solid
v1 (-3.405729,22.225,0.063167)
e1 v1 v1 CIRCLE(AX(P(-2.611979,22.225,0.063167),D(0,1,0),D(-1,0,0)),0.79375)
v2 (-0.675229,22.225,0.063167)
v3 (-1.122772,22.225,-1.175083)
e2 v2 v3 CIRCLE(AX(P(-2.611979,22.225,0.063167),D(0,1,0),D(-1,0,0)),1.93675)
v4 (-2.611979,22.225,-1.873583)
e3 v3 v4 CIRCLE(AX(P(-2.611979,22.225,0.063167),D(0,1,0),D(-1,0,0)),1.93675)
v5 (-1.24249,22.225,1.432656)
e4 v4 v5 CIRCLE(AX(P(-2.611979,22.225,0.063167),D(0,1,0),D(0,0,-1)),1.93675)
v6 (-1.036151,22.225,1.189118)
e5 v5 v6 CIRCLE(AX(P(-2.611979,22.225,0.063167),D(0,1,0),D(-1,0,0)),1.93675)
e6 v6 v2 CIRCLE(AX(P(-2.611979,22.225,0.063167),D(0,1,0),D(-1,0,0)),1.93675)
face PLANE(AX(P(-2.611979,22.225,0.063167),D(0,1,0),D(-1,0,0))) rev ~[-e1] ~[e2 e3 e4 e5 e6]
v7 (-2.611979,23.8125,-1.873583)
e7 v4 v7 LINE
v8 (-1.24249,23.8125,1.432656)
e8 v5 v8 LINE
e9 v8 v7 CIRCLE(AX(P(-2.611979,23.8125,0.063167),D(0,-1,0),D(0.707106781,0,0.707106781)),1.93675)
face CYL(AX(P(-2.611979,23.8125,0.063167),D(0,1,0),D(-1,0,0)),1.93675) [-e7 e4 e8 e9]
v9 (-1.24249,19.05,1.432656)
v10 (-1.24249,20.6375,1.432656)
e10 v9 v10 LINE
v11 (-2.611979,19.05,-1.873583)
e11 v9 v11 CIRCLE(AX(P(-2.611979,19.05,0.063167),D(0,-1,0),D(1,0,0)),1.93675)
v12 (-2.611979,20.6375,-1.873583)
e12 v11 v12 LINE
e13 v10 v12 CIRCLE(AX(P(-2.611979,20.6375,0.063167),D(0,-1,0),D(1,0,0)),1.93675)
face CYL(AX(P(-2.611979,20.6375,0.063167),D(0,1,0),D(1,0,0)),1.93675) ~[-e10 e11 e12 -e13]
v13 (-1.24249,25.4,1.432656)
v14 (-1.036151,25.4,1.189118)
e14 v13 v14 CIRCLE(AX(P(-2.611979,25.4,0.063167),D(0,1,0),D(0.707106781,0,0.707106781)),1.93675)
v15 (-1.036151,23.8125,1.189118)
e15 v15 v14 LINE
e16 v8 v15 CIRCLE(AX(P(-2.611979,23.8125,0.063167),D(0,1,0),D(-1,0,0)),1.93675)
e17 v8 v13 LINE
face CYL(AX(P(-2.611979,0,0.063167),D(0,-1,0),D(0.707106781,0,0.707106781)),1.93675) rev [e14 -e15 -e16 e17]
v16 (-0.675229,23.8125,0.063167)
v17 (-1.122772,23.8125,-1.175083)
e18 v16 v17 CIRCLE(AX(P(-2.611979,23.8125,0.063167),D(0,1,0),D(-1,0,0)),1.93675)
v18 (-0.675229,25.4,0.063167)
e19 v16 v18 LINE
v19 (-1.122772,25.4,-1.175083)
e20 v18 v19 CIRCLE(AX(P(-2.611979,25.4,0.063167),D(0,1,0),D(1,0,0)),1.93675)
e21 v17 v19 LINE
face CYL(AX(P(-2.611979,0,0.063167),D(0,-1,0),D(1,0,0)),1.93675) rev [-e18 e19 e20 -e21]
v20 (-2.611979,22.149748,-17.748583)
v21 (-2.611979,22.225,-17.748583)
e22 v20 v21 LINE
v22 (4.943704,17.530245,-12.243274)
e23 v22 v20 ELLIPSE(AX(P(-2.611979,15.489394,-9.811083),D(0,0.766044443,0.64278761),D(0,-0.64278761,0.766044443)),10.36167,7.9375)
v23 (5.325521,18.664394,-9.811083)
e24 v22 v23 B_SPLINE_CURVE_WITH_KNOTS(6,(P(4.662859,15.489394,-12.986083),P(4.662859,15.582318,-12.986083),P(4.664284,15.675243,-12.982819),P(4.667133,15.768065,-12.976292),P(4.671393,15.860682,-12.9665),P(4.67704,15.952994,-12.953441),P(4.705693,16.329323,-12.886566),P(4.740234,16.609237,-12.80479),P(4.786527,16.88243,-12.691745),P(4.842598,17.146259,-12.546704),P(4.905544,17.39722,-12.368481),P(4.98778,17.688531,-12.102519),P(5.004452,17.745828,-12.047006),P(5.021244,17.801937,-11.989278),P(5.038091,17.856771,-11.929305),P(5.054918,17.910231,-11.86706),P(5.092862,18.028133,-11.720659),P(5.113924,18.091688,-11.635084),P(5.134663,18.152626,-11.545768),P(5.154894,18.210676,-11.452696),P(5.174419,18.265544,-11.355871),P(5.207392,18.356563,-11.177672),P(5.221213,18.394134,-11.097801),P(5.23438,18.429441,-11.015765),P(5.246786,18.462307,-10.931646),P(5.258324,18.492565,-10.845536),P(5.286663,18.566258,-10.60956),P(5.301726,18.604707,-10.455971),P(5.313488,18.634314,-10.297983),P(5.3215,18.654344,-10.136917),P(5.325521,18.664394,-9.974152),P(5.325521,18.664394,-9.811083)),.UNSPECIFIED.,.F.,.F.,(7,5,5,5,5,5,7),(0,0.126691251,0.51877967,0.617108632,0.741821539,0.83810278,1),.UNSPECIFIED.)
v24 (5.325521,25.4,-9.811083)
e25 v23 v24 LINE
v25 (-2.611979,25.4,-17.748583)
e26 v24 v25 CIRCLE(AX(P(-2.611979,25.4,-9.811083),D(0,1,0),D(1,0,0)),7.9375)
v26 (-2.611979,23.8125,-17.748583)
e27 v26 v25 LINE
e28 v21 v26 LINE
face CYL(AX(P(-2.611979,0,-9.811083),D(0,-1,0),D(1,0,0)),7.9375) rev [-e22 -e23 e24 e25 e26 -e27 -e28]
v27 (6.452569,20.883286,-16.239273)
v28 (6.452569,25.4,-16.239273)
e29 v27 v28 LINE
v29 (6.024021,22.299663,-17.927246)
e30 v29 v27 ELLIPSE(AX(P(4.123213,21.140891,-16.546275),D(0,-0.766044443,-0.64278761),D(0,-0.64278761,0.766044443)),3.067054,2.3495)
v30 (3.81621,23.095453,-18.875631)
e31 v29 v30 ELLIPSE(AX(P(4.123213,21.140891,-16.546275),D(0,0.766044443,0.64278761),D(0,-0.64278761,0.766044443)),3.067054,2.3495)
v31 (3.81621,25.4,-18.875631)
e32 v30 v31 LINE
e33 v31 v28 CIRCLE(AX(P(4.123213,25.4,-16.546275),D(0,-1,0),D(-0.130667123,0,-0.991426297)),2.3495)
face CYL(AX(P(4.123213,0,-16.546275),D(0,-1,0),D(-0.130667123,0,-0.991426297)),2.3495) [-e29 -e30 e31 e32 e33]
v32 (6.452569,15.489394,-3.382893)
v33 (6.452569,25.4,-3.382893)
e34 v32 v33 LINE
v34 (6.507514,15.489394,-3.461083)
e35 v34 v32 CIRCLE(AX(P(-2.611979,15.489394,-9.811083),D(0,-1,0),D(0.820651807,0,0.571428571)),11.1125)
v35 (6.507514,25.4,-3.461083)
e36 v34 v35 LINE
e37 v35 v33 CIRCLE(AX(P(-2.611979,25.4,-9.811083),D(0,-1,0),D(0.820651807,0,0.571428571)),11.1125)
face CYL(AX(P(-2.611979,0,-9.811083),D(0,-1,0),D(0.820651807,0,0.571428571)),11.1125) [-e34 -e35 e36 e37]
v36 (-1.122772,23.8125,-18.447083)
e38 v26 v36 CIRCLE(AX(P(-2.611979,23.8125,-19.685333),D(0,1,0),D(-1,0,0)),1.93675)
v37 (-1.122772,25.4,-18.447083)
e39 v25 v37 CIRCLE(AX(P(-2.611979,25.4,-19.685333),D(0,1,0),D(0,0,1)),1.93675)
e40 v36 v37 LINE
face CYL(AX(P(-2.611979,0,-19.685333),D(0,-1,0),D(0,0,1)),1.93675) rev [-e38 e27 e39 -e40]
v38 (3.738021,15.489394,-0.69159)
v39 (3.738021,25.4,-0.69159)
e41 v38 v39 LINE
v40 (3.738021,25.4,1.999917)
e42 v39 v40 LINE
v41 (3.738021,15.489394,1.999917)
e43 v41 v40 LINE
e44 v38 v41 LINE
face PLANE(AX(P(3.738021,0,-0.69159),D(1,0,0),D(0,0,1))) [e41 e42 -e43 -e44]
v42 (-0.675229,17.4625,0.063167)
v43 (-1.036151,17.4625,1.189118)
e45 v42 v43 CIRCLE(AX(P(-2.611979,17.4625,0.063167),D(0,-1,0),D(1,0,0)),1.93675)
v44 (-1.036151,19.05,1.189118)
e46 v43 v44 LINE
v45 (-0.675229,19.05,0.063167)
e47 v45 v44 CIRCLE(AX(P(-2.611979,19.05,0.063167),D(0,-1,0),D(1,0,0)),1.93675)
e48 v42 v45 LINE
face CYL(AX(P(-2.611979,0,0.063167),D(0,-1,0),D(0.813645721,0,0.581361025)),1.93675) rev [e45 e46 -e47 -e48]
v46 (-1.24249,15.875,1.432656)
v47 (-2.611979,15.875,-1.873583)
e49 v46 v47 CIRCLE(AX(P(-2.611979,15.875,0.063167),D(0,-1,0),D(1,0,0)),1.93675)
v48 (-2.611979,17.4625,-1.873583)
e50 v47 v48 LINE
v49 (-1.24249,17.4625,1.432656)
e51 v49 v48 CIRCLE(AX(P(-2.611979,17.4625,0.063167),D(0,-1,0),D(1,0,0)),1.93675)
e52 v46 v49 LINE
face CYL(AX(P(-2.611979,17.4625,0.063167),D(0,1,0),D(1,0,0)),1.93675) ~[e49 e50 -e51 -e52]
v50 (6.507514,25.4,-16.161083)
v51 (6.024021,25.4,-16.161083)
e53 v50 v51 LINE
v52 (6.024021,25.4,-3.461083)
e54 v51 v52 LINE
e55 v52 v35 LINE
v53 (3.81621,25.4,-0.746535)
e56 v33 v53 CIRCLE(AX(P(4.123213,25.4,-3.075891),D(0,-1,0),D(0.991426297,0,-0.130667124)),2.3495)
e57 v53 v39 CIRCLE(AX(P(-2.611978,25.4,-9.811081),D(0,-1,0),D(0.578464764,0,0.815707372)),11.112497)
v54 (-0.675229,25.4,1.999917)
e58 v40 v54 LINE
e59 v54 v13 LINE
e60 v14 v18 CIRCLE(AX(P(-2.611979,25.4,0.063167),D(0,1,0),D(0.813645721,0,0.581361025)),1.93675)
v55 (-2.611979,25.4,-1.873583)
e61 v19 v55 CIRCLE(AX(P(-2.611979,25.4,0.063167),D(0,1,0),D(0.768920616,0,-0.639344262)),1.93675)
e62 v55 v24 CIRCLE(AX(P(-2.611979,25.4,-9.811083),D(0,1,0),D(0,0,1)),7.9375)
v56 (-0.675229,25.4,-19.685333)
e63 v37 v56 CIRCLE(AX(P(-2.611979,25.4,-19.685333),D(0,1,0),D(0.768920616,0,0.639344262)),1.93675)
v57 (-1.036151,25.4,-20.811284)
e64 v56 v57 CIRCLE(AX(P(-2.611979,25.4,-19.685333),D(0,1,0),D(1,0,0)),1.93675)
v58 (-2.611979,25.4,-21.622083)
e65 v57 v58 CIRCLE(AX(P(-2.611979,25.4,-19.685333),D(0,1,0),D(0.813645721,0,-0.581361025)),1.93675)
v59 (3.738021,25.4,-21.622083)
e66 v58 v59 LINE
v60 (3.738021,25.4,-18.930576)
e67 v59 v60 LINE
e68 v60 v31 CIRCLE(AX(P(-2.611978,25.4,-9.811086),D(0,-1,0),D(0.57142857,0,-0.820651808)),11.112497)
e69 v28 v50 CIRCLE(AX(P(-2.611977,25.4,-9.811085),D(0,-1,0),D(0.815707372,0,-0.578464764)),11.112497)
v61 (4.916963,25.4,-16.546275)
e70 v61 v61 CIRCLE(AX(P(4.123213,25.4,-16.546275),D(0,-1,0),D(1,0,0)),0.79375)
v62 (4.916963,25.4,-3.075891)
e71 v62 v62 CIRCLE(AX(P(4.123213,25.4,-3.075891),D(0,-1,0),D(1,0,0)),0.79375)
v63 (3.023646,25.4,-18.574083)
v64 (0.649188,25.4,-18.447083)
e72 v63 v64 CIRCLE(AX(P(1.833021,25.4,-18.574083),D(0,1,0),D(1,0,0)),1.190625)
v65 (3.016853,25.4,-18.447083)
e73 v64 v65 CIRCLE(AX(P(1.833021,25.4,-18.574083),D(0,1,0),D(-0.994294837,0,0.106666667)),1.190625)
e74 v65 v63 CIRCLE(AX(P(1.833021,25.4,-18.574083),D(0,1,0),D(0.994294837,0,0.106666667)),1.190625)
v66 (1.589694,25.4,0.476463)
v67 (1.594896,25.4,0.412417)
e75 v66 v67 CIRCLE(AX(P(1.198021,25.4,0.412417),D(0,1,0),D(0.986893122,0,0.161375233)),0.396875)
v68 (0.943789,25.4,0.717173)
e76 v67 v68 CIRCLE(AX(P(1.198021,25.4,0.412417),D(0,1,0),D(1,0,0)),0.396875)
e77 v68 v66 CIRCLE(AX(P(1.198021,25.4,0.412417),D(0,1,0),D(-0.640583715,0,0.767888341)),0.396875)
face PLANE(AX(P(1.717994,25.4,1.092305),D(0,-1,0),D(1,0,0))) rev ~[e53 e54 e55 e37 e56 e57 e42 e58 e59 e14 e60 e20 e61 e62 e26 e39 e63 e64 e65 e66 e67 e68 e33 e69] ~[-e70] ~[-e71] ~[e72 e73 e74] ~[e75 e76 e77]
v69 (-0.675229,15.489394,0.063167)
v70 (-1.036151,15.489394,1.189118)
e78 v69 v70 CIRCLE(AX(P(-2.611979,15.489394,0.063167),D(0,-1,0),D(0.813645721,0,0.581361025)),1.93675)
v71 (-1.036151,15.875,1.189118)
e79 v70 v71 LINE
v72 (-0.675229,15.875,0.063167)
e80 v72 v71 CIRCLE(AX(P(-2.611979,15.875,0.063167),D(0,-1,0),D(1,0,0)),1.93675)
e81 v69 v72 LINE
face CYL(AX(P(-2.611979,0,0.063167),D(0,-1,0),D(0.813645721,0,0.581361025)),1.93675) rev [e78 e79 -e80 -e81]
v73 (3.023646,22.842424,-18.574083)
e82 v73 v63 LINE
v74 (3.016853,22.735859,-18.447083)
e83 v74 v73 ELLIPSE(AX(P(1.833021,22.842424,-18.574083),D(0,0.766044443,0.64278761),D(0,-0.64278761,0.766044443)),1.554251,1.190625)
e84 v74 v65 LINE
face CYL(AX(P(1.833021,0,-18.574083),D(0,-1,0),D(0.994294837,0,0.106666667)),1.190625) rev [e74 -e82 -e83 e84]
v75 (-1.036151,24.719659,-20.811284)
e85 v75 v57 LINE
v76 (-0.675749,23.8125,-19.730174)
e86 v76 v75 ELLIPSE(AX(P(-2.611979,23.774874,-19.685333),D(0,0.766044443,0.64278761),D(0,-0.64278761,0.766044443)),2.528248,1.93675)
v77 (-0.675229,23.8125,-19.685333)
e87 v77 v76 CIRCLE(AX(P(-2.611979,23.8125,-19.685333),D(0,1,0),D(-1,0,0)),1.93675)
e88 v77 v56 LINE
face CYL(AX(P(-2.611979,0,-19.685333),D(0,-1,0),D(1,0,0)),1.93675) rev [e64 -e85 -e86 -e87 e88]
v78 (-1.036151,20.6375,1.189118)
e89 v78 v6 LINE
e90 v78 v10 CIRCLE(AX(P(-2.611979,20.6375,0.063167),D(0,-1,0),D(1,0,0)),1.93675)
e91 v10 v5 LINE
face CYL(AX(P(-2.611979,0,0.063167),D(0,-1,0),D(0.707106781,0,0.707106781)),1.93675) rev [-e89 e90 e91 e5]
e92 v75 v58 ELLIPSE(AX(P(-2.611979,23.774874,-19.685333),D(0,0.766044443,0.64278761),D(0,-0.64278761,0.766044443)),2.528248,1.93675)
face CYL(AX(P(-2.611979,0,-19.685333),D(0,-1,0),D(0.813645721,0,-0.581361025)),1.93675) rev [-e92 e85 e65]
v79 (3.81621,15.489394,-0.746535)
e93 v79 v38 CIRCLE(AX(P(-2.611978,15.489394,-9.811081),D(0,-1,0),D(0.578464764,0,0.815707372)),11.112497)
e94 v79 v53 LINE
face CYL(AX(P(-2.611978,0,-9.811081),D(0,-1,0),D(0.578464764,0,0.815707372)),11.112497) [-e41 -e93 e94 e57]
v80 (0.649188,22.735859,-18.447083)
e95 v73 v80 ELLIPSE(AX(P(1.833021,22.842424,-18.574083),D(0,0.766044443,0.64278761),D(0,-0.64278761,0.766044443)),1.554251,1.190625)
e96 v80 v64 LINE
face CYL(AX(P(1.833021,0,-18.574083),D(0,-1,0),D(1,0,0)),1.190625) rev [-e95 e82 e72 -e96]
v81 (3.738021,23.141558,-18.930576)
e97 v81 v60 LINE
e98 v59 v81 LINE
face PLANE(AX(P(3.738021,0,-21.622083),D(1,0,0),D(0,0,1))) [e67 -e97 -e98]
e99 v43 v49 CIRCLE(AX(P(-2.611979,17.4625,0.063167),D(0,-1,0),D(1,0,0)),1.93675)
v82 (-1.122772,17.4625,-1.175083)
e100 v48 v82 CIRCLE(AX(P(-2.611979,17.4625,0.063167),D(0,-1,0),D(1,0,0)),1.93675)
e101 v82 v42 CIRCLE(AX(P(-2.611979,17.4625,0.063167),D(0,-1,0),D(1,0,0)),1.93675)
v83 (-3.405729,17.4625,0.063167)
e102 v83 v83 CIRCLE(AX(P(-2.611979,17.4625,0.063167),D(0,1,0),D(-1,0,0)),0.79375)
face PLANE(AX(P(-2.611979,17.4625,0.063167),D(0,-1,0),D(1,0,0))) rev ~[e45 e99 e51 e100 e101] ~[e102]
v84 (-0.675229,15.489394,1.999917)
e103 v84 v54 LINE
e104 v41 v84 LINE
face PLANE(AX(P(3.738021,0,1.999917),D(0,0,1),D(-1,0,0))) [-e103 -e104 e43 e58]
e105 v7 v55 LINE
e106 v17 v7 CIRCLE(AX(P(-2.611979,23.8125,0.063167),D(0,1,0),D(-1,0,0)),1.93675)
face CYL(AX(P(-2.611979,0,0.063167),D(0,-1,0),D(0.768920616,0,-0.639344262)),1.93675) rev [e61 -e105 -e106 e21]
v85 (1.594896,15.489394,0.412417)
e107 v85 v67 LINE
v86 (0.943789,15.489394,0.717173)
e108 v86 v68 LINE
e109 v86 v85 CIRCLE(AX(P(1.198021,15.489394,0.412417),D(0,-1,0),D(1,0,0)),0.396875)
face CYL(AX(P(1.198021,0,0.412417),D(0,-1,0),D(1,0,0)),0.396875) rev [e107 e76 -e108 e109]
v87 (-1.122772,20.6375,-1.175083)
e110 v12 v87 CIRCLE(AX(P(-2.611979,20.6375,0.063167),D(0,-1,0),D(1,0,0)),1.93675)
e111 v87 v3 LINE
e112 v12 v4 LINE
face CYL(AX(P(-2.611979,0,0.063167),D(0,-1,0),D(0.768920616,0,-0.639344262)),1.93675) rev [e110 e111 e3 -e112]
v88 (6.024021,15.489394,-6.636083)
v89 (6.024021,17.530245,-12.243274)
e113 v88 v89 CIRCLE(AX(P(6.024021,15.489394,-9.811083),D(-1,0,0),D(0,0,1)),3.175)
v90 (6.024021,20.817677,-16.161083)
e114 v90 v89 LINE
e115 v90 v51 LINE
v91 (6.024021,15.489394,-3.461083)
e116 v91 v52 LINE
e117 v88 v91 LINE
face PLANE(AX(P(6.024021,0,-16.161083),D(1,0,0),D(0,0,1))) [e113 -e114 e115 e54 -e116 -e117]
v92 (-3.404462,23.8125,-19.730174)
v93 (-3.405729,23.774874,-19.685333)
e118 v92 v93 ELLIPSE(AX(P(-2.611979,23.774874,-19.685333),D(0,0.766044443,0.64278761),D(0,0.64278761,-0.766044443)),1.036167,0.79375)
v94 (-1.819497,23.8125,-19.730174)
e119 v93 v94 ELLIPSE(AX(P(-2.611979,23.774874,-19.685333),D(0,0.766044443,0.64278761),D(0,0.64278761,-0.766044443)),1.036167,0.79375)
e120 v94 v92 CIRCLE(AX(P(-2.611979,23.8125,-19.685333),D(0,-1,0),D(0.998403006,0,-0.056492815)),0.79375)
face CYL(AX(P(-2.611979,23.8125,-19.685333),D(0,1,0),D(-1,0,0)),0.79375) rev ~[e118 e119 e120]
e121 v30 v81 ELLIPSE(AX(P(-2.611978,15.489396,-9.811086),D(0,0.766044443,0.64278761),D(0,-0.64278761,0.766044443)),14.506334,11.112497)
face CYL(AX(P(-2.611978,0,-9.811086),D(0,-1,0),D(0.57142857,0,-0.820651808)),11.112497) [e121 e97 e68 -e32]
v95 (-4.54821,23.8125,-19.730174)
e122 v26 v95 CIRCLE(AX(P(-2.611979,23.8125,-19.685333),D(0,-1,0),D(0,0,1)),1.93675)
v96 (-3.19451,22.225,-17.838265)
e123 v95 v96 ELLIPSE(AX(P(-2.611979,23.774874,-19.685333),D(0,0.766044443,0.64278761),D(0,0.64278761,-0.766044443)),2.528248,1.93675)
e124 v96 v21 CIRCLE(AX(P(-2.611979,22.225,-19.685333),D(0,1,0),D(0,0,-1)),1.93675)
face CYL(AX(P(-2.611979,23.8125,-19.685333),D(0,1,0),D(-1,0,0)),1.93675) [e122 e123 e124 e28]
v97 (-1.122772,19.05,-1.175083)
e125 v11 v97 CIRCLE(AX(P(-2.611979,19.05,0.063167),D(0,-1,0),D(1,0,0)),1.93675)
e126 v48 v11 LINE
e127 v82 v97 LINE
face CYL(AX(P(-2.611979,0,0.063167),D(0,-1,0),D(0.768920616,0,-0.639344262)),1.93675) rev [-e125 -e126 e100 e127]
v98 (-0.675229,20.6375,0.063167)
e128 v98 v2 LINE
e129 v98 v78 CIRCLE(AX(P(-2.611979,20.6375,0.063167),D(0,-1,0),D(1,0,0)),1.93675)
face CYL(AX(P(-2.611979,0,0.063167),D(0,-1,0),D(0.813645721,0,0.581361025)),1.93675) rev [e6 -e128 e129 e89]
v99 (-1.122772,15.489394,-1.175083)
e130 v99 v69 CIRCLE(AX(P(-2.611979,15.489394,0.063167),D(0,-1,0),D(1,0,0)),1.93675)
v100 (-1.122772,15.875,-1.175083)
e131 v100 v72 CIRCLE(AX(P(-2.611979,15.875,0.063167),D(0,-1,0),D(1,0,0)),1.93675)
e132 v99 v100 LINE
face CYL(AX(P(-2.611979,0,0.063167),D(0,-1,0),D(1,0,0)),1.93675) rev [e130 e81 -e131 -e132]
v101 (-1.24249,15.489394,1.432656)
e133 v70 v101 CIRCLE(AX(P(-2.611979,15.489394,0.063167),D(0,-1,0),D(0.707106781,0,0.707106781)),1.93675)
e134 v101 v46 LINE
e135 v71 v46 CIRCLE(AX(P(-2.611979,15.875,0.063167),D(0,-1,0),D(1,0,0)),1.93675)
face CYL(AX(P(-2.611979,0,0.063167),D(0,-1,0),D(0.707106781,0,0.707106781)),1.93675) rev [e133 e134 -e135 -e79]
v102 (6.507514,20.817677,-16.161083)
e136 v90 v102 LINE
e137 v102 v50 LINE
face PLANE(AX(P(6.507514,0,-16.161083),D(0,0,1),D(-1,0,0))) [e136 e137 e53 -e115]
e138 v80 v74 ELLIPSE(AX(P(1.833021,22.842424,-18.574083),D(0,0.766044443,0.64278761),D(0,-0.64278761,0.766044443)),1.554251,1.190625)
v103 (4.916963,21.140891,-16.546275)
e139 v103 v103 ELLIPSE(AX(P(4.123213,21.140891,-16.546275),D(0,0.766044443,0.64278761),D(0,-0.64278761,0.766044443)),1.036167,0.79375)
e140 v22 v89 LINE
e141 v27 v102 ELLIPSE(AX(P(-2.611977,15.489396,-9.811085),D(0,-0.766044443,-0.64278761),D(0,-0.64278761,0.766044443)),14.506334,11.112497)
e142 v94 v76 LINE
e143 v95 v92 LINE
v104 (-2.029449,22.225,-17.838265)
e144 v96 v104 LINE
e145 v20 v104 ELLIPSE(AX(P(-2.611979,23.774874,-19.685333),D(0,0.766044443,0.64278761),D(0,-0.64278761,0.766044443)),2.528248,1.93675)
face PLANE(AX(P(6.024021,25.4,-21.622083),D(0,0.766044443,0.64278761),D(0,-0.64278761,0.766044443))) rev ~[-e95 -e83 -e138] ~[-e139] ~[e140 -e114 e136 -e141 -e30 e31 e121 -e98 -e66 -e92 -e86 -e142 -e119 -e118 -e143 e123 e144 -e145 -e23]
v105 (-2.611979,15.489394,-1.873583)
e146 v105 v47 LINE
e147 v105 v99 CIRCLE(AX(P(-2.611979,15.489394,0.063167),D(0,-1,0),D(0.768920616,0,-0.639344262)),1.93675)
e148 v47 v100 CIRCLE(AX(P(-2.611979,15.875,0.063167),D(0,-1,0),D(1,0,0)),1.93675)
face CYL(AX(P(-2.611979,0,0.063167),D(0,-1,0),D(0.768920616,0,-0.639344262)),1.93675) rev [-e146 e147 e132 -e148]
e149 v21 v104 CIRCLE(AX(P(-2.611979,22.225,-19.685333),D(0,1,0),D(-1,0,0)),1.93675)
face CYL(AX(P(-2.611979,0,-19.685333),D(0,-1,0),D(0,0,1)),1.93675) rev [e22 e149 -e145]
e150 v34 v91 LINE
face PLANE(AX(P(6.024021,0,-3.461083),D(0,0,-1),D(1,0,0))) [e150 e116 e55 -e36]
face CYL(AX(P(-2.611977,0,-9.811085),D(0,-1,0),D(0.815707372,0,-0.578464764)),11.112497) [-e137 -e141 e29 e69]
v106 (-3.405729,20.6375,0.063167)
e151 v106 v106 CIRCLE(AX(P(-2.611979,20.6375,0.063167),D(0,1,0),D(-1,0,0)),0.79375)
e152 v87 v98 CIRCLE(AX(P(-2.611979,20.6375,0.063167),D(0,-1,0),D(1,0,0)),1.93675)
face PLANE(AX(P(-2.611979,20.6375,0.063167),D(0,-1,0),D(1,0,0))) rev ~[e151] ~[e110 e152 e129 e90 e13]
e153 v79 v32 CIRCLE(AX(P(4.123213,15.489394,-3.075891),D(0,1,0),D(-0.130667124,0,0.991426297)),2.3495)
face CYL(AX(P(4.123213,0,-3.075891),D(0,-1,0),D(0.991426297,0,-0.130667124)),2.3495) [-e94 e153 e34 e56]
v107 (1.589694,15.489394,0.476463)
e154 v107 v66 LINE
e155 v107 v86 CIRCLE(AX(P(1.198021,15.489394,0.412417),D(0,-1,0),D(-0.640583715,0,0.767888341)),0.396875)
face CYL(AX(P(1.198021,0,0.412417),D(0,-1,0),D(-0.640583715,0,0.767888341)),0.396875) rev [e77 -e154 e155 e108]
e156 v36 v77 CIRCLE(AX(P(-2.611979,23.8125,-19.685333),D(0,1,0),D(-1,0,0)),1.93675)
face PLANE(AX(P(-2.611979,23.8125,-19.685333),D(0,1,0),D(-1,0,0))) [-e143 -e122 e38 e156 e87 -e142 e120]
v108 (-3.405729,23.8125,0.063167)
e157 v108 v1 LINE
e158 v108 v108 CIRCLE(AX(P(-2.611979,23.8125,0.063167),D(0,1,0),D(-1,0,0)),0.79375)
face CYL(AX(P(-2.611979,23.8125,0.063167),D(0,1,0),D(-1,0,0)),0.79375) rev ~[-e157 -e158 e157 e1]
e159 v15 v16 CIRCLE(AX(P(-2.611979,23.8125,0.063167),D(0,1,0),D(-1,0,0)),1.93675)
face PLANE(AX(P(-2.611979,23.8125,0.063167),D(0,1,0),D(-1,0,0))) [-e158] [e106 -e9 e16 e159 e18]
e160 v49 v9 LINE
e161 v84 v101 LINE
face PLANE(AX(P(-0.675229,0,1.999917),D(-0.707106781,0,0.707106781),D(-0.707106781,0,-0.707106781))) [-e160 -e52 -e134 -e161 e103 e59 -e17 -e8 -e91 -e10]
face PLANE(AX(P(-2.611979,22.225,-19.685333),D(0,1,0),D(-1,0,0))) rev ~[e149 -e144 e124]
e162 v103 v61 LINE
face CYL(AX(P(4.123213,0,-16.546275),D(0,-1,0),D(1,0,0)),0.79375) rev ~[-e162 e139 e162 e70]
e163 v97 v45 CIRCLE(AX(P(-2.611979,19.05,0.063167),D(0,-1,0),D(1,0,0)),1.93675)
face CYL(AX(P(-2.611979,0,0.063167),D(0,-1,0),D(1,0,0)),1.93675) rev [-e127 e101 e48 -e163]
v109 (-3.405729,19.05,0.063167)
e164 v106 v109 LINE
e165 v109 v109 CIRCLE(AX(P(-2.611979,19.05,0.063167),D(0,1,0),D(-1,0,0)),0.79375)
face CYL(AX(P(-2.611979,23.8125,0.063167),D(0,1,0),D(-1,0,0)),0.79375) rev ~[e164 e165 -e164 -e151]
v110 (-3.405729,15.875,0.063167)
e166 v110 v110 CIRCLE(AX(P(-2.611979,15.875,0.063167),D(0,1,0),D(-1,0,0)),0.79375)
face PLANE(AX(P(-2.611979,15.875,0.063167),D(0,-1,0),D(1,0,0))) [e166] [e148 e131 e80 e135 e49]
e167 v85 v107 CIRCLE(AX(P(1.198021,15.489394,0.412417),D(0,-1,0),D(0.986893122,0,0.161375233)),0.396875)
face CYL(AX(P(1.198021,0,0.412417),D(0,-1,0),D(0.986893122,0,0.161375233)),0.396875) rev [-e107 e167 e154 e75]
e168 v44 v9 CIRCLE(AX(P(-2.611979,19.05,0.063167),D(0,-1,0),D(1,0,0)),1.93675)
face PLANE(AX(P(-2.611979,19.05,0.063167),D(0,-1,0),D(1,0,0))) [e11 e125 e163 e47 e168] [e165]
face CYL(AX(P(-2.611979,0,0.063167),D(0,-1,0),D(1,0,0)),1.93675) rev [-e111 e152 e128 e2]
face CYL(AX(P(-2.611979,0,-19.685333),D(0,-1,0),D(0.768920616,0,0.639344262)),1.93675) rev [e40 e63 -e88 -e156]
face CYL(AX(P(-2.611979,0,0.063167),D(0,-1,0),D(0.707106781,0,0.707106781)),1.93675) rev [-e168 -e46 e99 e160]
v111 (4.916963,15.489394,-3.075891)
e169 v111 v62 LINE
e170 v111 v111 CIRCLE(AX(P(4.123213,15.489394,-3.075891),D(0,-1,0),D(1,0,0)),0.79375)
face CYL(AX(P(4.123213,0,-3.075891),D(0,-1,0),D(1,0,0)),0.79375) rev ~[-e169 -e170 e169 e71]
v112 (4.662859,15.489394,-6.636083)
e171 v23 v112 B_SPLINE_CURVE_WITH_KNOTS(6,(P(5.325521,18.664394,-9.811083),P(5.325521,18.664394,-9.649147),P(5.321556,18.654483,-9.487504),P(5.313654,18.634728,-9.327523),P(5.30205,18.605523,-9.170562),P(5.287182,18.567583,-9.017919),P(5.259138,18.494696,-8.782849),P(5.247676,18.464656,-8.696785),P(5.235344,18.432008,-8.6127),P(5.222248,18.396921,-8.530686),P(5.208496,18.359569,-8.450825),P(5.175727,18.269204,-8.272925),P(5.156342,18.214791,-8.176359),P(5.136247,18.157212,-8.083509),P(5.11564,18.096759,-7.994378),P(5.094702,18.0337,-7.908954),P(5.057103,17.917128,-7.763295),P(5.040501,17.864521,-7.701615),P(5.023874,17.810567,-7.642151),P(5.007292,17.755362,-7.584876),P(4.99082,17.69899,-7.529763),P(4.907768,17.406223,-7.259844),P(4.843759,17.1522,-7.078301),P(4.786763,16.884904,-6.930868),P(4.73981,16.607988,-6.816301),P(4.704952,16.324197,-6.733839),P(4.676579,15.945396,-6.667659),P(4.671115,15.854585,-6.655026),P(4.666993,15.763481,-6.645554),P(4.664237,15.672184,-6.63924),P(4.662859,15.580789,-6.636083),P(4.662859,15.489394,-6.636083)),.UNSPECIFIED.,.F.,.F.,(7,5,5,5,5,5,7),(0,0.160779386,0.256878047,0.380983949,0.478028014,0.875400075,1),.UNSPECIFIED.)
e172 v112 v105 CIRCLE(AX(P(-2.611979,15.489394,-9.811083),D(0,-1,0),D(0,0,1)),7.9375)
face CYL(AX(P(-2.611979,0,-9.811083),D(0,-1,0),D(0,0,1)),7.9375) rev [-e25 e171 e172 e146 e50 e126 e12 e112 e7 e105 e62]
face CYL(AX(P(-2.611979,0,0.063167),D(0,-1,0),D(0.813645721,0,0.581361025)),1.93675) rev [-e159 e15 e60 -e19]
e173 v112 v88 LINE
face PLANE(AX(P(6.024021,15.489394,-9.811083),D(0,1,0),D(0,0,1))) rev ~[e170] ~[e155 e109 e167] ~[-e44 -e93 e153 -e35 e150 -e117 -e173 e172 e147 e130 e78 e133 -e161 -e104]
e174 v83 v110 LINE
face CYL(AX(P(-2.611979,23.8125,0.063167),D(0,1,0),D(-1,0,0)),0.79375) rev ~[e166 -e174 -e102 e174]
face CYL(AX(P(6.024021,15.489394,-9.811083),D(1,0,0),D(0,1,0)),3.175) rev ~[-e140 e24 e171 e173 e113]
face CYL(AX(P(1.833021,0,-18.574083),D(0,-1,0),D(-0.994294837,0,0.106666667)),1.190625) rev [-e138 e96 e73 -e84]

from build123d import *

# Parameters (mm, degrees)
F0_R           = 0.79375
F1_DEPTH       = 25.4
F3_START       = -1.5875
F2_R           = 1.93675
F3_DEPTH       = 1.5875
F5_START       = 1.5875
F4_R           = 1.93675
F5_DEPTH       = 1.5875
F7_START       = 1.5875
F6_R           = 1.93675
F7_DEPTH       = 1.5875
F9_START       = 1.5875
F8_R           = 1.93675
F9_DEPTH       = 1.5875
F11_START      = 1.5875
F10_R          = 1.93675
F11_DEPTH      = 1.5875
F13_START      = 1.5875
F12_R          = 1.93675
F13_DEPTH      = 1.5875
F14_R          = 0.79375
F15_DEPTH      = 23.8135
F16_R          = 0.79375
F17_DEPTH      = 23.8135
F19_DEPTH      = 25.4
F19_DEPTH_BACK = 25.4
F20_R          = 3.175
F21_DEPTH      = 25.4


with BuildPart() as f1:
    # F0 (on Front) → F1 (new body)
    with BuildSketch(Plane.XZ):
        with BuildLine():
            ThreePointArc((1.5896937253, 0.4764627531), (2.6960840616, -0.0482905293), (3.7380205176, -0.6915898416))
            Line((3.7380205176, -0.6915898416), (3.7380205176, 1.9999169571))
            Line((3.7380205176, 1.9999169571), (-0.6752294824, 1.9999169571))
            Line((-0.6752294824, 1.9999169571), (-1.2424904239, 1.4326560155))
            ThreePointArc((-1.2424904239, 1.4326560155), (-1.1342950237, 1.3151450731), (-1.0361511327, 1.1891179217))
            ThreePointArc((-1.0361511327, 1.1891179217), (-0.0353529614, 0.9985724567), (0.9437888558, 0.7171726424))
            ThreePointArc((0.9437888558, 0.7171726424), (1.336612932, 0.7843066024), (1.5896937253, 0.4764627531))
        make_face()
        with BuildLine():
            ThreePointArc((-0.6752294824, 0.0631669571), (-0.7905484204, -0.5951562531), (-1.1227724786, -1.1750830429))
            Line((-1.1227724786, -1.1750830429), (3.7380205176, -1.1750830429))
            Line((3.7380205176, -1.1750830429), (3.7380205176, -0.6915898416))
            ThreePointArc((3.7380205176, -0.6915898416), (2.6960840616, -0.0482905293), (1.5896937253, 0.4764627531))
            ThreePointArc((1.5896937253, 0.4764627531), (1.5935929319, 0.4445453037), (1.5948955176, 0.4124169571))
            ThreePointArc((1.5948955176, 0.4124169571), (1.0297772788, 0.0529674082), (0.9437888558, 0.7171726424))
            ThreePointArc((0.9437888558, 0.7171726424), (-0.0353529614, 0.9985724567), (-1.0361511327, 1.1891179217))
            ThreePointArc((-1.0361511327, 1.1891179217), (-0.7676657728, 0.654358553), (-0.6752294824, 0.0631669571))
        make_face()
        with BuildLine():
            ThreePointArc((-2.6119794826, -1.8735830429), (3.0006805932, -4.1984229672), (5.3255205176, -9.8110830429))
            ThreePointArc((5.3255205176, -9.8110830429), (3.0006805933, -15.4237431186), (-2.6119794824, -17.7485830429))
            ThreePointArc((-2.6119794824, -17.7485830429), (-1.7895380331, -17.9318819815), (-1.1227724786, -18.4470830429))
            Line((-1.1227724786, -18.4470830429), (0.6491882277, -18.4470830429))
            ThreePointArc((0.6491882277, -18.4470830429), (1.8330205176, -17.3834580429), (3.0168528075, -18.4470830429))
            Line((3.0168528075, -18.4470830429), (3.7380205176, -18.4470830429))
            Line((3.7380205176, -18.4470830429), (3.7380205176, -18.9305762443))
            ThreePointArc((3.7380205176, -18.9305762443), (3.777174424, -18.9031877834), (3.8162102016, -18.8756312191))
            ThreePointArc((3.8162102016, -18.8756312191), (5.7845599908, -18.2076225161), (6.4525686938, -16.2392727269))
            ThreePointArc((6.4525686938, -16.2392727269), (6.4801252581, -16.2002369493), (6.507513719, -16.1610830429))
            Line((6.507513719, -16.1610830429), (6.0240205176, -16.1610830429))
            Line((6.0240205176, -16.1610830429), (6.0240205176, -3.4610830429))
            Line((6.0240205176, -3.4610830429), (6.507513719, -3.4610830429))
            ThreePointArc((6.507513719, -3.4610830429), (6.4801252581, -3.4219291366), (6.4525686938, -3.382893359))
            ThreePointArc((6.4525686938, -3.382893359), (5.7845599908, -1.4145435697), (3.8162102016, -0.7465348668))
            ThreePointArc((3.8162102016, -0.7465348668), (3.777174424, -0.7189783025), (3.7380205176, -0.6915898416))
            Line((3.7380205176, -0.6915898416), (3.7380205176, -1.1750830429))
            Line((3.7380205176, -1.1750830429), (-1.1227724786, -1.1750830429))
            ThreePointArc((-1.1227724786, -1.1750830429), (-1.7895380332, -1.6902841045), (-2.6119794826, -1.8735830429))
        make_face()
        with Locations((4.1232126084, -16.5462751337)):
            Circle(F0_R, mode=Mode.SUBTRACT)
        with Locations((4.1232126084, -3.0758909521)):
            Circle(F0_R, mode=Mode.SUBTRACT)
        with BuildLine():
            Line((0.6491882277, -18.4470830429), (-1.1227724786, -18.4470830429))
            ThreePointArc((-1.1227724786, -18.4470830429), (-0.7905484204, -19.0270098328), (-0.6752294824, -19.6853330429))
            ThreePointArc((-0.6752294824, -19.6853330429), (-0.7676657728, -20.2765246389), (-1.0361511327, -20.8112840076))
            ThreePointArc((-1.0361511327, -20.8112840076), (1.4609745046, -20.150265896), (3.7380205176, -18.9305762443))
            Line((3.7380205176, -18.9305762443), (3.7380205176, -18.4470830429))
            Line((3.7380205176, -18.4470830429), (3.0168528075, -18.4470830429))
            ThreePointArc((3.0168528075, -18.4470830429), (3.0219461273, -18.5104922792), (3.0236455176, -18.5740830429))
            ThreePointArc((3.0236455176, -18.5740830429), (1.7694297539, -19.7630086526), (0.6491882277, -18.4470830429))
        make_face()
        with BuildLine():
            ThreePointArc((3.7380205176, -18.9305762443), (1.4609745046, -20.150265896), (-1.0361511327, -20.8112840076))
            ThreePointArc((-1.0361511327, -20.8112840076), (-1.7258883381, -21.4074953601), (-2.6119794824, -21.6220830429))
            Line((-2.6119794824, -21.6220830429), (3.7380205176, -21.6220830429))
            Line((3.7380205176, -21.6220830429), (3.7380205176, -18.9305762443))
        make_face()
    extrude(amount=-F1_DEPTH)

    # F2 (on face) → F3 (join)
    with BuildSketch(Plane(origin=(0, 25.4, 0), x_dir=(-1, 0, 0), z_dir=(0, 1, 0)).offset(F3_START)):
        with Locations((2.6119794824, 0.0631669571)):
            Circle(F2_R)
        with Locations((2.6119794824, -19.6853330429)):
            Circle(F2_R)
    extrude(amount=-F3_DEPTH)

    # F4 (on face) → F5 (join)
    with BuildSketch(Plane.XZ.offset(-22.225).offset(F5_START)):
        with Locations((-2.6119794824, 0.0631669571)):
            Circle(F4_R)
    extrude(amount=F5_DEPTH)

    # F6 (on face) → F7 (join)
    with BuildSketch(Plane.XZ.offset(-19.05).offset(F7_START)):
        with Locations((-2.6119794824, 0.0631669571)):
            Circle(F6_R)
    extrude(amount=F7_DEPTH)

    # F8 (on face) → F9 (join)
    with BuildSketch(Plane.XZ.offset(-15.875).offset(F9_START)):
        with Locations((-2.6119794824, 0.0631669571)):
            Circle(F8_R)
    extrude(amount=F9_DEPTH)

    # F10 (on face) → F11 (join)
    with BuildSketch(Plane.XZ.offset(-12.7).offset(F11_START)):
        with Locations((-2.6119794824, 0.0631669571)):
            Circle(F10_R)
    extrude(amount=F11_DEPTH)

    # F12 (on face) → F13 (join)
    with BuildSketch(Plane.XZ.offset(-22.225).offset(F13_START)):
        with Locations((-2.6119794824, -19.6853330429)):
            Circle(F12_R)
    extrude(amount=F13_DEPTH)

    # F14 (on face) → F15 (cut, through all)
    with BuildSketch(Plane(origin=(0, 23.8125, 0), x_dir=(-1, 0, 0), z_dir=(0, 1, 0))):
        with Locations((2.6119794824, 0.0631669571)):
            Circle(F14_R)
    extrude(amount=-F15_DEPTH, mode=Mode.SUBTRACT)

    # F16 (on face) → F17 (cut, through all)
    with BuildSketch(Plane(origin=(0, 23.8125, 0), x_dir=(-1, 0, 0), z_dir=(0, 1, 0))):
        with Locations((2.6119794824, -19.6853330429)):
            Circle(F16_R)
    extrude(amount=-F17_DEPTH, mode=Mode.SUBTRACT)

    # F18 (on face) → F19 (cut, two sides)
    with BuildSketch(Plane.YZ.offset(6.0240205176)) as f19_sk:
        Polygon((21.9337120652, -25.8094575256), (25.4, -21.6220830429), (15.4893942562, -9.8110830429), (15.4893942562, 6.843551062), (-6.1063589528, 6.843551062), (-6.1063589528, -25.8094575256), align=None)
    extrude(amount=-F19_DEPTH, mode=Mode.SUBTRACT)
    extrude(f19_sk.sketch, amount=F19_DEPTH_BACK, mode=Mode.SUBTRACT)

    # F20 (on face) → F21 (cut)
    with BuildSketch(Plane.YZ.offset(6.0240205176)):
        with Locations((15.4893942562, -9.8110830429)):
            Circle(F20_R)
    extrude(amount=-F21_DEPTH, mode=Mode.SUBTRACT)


solid = f1.part
